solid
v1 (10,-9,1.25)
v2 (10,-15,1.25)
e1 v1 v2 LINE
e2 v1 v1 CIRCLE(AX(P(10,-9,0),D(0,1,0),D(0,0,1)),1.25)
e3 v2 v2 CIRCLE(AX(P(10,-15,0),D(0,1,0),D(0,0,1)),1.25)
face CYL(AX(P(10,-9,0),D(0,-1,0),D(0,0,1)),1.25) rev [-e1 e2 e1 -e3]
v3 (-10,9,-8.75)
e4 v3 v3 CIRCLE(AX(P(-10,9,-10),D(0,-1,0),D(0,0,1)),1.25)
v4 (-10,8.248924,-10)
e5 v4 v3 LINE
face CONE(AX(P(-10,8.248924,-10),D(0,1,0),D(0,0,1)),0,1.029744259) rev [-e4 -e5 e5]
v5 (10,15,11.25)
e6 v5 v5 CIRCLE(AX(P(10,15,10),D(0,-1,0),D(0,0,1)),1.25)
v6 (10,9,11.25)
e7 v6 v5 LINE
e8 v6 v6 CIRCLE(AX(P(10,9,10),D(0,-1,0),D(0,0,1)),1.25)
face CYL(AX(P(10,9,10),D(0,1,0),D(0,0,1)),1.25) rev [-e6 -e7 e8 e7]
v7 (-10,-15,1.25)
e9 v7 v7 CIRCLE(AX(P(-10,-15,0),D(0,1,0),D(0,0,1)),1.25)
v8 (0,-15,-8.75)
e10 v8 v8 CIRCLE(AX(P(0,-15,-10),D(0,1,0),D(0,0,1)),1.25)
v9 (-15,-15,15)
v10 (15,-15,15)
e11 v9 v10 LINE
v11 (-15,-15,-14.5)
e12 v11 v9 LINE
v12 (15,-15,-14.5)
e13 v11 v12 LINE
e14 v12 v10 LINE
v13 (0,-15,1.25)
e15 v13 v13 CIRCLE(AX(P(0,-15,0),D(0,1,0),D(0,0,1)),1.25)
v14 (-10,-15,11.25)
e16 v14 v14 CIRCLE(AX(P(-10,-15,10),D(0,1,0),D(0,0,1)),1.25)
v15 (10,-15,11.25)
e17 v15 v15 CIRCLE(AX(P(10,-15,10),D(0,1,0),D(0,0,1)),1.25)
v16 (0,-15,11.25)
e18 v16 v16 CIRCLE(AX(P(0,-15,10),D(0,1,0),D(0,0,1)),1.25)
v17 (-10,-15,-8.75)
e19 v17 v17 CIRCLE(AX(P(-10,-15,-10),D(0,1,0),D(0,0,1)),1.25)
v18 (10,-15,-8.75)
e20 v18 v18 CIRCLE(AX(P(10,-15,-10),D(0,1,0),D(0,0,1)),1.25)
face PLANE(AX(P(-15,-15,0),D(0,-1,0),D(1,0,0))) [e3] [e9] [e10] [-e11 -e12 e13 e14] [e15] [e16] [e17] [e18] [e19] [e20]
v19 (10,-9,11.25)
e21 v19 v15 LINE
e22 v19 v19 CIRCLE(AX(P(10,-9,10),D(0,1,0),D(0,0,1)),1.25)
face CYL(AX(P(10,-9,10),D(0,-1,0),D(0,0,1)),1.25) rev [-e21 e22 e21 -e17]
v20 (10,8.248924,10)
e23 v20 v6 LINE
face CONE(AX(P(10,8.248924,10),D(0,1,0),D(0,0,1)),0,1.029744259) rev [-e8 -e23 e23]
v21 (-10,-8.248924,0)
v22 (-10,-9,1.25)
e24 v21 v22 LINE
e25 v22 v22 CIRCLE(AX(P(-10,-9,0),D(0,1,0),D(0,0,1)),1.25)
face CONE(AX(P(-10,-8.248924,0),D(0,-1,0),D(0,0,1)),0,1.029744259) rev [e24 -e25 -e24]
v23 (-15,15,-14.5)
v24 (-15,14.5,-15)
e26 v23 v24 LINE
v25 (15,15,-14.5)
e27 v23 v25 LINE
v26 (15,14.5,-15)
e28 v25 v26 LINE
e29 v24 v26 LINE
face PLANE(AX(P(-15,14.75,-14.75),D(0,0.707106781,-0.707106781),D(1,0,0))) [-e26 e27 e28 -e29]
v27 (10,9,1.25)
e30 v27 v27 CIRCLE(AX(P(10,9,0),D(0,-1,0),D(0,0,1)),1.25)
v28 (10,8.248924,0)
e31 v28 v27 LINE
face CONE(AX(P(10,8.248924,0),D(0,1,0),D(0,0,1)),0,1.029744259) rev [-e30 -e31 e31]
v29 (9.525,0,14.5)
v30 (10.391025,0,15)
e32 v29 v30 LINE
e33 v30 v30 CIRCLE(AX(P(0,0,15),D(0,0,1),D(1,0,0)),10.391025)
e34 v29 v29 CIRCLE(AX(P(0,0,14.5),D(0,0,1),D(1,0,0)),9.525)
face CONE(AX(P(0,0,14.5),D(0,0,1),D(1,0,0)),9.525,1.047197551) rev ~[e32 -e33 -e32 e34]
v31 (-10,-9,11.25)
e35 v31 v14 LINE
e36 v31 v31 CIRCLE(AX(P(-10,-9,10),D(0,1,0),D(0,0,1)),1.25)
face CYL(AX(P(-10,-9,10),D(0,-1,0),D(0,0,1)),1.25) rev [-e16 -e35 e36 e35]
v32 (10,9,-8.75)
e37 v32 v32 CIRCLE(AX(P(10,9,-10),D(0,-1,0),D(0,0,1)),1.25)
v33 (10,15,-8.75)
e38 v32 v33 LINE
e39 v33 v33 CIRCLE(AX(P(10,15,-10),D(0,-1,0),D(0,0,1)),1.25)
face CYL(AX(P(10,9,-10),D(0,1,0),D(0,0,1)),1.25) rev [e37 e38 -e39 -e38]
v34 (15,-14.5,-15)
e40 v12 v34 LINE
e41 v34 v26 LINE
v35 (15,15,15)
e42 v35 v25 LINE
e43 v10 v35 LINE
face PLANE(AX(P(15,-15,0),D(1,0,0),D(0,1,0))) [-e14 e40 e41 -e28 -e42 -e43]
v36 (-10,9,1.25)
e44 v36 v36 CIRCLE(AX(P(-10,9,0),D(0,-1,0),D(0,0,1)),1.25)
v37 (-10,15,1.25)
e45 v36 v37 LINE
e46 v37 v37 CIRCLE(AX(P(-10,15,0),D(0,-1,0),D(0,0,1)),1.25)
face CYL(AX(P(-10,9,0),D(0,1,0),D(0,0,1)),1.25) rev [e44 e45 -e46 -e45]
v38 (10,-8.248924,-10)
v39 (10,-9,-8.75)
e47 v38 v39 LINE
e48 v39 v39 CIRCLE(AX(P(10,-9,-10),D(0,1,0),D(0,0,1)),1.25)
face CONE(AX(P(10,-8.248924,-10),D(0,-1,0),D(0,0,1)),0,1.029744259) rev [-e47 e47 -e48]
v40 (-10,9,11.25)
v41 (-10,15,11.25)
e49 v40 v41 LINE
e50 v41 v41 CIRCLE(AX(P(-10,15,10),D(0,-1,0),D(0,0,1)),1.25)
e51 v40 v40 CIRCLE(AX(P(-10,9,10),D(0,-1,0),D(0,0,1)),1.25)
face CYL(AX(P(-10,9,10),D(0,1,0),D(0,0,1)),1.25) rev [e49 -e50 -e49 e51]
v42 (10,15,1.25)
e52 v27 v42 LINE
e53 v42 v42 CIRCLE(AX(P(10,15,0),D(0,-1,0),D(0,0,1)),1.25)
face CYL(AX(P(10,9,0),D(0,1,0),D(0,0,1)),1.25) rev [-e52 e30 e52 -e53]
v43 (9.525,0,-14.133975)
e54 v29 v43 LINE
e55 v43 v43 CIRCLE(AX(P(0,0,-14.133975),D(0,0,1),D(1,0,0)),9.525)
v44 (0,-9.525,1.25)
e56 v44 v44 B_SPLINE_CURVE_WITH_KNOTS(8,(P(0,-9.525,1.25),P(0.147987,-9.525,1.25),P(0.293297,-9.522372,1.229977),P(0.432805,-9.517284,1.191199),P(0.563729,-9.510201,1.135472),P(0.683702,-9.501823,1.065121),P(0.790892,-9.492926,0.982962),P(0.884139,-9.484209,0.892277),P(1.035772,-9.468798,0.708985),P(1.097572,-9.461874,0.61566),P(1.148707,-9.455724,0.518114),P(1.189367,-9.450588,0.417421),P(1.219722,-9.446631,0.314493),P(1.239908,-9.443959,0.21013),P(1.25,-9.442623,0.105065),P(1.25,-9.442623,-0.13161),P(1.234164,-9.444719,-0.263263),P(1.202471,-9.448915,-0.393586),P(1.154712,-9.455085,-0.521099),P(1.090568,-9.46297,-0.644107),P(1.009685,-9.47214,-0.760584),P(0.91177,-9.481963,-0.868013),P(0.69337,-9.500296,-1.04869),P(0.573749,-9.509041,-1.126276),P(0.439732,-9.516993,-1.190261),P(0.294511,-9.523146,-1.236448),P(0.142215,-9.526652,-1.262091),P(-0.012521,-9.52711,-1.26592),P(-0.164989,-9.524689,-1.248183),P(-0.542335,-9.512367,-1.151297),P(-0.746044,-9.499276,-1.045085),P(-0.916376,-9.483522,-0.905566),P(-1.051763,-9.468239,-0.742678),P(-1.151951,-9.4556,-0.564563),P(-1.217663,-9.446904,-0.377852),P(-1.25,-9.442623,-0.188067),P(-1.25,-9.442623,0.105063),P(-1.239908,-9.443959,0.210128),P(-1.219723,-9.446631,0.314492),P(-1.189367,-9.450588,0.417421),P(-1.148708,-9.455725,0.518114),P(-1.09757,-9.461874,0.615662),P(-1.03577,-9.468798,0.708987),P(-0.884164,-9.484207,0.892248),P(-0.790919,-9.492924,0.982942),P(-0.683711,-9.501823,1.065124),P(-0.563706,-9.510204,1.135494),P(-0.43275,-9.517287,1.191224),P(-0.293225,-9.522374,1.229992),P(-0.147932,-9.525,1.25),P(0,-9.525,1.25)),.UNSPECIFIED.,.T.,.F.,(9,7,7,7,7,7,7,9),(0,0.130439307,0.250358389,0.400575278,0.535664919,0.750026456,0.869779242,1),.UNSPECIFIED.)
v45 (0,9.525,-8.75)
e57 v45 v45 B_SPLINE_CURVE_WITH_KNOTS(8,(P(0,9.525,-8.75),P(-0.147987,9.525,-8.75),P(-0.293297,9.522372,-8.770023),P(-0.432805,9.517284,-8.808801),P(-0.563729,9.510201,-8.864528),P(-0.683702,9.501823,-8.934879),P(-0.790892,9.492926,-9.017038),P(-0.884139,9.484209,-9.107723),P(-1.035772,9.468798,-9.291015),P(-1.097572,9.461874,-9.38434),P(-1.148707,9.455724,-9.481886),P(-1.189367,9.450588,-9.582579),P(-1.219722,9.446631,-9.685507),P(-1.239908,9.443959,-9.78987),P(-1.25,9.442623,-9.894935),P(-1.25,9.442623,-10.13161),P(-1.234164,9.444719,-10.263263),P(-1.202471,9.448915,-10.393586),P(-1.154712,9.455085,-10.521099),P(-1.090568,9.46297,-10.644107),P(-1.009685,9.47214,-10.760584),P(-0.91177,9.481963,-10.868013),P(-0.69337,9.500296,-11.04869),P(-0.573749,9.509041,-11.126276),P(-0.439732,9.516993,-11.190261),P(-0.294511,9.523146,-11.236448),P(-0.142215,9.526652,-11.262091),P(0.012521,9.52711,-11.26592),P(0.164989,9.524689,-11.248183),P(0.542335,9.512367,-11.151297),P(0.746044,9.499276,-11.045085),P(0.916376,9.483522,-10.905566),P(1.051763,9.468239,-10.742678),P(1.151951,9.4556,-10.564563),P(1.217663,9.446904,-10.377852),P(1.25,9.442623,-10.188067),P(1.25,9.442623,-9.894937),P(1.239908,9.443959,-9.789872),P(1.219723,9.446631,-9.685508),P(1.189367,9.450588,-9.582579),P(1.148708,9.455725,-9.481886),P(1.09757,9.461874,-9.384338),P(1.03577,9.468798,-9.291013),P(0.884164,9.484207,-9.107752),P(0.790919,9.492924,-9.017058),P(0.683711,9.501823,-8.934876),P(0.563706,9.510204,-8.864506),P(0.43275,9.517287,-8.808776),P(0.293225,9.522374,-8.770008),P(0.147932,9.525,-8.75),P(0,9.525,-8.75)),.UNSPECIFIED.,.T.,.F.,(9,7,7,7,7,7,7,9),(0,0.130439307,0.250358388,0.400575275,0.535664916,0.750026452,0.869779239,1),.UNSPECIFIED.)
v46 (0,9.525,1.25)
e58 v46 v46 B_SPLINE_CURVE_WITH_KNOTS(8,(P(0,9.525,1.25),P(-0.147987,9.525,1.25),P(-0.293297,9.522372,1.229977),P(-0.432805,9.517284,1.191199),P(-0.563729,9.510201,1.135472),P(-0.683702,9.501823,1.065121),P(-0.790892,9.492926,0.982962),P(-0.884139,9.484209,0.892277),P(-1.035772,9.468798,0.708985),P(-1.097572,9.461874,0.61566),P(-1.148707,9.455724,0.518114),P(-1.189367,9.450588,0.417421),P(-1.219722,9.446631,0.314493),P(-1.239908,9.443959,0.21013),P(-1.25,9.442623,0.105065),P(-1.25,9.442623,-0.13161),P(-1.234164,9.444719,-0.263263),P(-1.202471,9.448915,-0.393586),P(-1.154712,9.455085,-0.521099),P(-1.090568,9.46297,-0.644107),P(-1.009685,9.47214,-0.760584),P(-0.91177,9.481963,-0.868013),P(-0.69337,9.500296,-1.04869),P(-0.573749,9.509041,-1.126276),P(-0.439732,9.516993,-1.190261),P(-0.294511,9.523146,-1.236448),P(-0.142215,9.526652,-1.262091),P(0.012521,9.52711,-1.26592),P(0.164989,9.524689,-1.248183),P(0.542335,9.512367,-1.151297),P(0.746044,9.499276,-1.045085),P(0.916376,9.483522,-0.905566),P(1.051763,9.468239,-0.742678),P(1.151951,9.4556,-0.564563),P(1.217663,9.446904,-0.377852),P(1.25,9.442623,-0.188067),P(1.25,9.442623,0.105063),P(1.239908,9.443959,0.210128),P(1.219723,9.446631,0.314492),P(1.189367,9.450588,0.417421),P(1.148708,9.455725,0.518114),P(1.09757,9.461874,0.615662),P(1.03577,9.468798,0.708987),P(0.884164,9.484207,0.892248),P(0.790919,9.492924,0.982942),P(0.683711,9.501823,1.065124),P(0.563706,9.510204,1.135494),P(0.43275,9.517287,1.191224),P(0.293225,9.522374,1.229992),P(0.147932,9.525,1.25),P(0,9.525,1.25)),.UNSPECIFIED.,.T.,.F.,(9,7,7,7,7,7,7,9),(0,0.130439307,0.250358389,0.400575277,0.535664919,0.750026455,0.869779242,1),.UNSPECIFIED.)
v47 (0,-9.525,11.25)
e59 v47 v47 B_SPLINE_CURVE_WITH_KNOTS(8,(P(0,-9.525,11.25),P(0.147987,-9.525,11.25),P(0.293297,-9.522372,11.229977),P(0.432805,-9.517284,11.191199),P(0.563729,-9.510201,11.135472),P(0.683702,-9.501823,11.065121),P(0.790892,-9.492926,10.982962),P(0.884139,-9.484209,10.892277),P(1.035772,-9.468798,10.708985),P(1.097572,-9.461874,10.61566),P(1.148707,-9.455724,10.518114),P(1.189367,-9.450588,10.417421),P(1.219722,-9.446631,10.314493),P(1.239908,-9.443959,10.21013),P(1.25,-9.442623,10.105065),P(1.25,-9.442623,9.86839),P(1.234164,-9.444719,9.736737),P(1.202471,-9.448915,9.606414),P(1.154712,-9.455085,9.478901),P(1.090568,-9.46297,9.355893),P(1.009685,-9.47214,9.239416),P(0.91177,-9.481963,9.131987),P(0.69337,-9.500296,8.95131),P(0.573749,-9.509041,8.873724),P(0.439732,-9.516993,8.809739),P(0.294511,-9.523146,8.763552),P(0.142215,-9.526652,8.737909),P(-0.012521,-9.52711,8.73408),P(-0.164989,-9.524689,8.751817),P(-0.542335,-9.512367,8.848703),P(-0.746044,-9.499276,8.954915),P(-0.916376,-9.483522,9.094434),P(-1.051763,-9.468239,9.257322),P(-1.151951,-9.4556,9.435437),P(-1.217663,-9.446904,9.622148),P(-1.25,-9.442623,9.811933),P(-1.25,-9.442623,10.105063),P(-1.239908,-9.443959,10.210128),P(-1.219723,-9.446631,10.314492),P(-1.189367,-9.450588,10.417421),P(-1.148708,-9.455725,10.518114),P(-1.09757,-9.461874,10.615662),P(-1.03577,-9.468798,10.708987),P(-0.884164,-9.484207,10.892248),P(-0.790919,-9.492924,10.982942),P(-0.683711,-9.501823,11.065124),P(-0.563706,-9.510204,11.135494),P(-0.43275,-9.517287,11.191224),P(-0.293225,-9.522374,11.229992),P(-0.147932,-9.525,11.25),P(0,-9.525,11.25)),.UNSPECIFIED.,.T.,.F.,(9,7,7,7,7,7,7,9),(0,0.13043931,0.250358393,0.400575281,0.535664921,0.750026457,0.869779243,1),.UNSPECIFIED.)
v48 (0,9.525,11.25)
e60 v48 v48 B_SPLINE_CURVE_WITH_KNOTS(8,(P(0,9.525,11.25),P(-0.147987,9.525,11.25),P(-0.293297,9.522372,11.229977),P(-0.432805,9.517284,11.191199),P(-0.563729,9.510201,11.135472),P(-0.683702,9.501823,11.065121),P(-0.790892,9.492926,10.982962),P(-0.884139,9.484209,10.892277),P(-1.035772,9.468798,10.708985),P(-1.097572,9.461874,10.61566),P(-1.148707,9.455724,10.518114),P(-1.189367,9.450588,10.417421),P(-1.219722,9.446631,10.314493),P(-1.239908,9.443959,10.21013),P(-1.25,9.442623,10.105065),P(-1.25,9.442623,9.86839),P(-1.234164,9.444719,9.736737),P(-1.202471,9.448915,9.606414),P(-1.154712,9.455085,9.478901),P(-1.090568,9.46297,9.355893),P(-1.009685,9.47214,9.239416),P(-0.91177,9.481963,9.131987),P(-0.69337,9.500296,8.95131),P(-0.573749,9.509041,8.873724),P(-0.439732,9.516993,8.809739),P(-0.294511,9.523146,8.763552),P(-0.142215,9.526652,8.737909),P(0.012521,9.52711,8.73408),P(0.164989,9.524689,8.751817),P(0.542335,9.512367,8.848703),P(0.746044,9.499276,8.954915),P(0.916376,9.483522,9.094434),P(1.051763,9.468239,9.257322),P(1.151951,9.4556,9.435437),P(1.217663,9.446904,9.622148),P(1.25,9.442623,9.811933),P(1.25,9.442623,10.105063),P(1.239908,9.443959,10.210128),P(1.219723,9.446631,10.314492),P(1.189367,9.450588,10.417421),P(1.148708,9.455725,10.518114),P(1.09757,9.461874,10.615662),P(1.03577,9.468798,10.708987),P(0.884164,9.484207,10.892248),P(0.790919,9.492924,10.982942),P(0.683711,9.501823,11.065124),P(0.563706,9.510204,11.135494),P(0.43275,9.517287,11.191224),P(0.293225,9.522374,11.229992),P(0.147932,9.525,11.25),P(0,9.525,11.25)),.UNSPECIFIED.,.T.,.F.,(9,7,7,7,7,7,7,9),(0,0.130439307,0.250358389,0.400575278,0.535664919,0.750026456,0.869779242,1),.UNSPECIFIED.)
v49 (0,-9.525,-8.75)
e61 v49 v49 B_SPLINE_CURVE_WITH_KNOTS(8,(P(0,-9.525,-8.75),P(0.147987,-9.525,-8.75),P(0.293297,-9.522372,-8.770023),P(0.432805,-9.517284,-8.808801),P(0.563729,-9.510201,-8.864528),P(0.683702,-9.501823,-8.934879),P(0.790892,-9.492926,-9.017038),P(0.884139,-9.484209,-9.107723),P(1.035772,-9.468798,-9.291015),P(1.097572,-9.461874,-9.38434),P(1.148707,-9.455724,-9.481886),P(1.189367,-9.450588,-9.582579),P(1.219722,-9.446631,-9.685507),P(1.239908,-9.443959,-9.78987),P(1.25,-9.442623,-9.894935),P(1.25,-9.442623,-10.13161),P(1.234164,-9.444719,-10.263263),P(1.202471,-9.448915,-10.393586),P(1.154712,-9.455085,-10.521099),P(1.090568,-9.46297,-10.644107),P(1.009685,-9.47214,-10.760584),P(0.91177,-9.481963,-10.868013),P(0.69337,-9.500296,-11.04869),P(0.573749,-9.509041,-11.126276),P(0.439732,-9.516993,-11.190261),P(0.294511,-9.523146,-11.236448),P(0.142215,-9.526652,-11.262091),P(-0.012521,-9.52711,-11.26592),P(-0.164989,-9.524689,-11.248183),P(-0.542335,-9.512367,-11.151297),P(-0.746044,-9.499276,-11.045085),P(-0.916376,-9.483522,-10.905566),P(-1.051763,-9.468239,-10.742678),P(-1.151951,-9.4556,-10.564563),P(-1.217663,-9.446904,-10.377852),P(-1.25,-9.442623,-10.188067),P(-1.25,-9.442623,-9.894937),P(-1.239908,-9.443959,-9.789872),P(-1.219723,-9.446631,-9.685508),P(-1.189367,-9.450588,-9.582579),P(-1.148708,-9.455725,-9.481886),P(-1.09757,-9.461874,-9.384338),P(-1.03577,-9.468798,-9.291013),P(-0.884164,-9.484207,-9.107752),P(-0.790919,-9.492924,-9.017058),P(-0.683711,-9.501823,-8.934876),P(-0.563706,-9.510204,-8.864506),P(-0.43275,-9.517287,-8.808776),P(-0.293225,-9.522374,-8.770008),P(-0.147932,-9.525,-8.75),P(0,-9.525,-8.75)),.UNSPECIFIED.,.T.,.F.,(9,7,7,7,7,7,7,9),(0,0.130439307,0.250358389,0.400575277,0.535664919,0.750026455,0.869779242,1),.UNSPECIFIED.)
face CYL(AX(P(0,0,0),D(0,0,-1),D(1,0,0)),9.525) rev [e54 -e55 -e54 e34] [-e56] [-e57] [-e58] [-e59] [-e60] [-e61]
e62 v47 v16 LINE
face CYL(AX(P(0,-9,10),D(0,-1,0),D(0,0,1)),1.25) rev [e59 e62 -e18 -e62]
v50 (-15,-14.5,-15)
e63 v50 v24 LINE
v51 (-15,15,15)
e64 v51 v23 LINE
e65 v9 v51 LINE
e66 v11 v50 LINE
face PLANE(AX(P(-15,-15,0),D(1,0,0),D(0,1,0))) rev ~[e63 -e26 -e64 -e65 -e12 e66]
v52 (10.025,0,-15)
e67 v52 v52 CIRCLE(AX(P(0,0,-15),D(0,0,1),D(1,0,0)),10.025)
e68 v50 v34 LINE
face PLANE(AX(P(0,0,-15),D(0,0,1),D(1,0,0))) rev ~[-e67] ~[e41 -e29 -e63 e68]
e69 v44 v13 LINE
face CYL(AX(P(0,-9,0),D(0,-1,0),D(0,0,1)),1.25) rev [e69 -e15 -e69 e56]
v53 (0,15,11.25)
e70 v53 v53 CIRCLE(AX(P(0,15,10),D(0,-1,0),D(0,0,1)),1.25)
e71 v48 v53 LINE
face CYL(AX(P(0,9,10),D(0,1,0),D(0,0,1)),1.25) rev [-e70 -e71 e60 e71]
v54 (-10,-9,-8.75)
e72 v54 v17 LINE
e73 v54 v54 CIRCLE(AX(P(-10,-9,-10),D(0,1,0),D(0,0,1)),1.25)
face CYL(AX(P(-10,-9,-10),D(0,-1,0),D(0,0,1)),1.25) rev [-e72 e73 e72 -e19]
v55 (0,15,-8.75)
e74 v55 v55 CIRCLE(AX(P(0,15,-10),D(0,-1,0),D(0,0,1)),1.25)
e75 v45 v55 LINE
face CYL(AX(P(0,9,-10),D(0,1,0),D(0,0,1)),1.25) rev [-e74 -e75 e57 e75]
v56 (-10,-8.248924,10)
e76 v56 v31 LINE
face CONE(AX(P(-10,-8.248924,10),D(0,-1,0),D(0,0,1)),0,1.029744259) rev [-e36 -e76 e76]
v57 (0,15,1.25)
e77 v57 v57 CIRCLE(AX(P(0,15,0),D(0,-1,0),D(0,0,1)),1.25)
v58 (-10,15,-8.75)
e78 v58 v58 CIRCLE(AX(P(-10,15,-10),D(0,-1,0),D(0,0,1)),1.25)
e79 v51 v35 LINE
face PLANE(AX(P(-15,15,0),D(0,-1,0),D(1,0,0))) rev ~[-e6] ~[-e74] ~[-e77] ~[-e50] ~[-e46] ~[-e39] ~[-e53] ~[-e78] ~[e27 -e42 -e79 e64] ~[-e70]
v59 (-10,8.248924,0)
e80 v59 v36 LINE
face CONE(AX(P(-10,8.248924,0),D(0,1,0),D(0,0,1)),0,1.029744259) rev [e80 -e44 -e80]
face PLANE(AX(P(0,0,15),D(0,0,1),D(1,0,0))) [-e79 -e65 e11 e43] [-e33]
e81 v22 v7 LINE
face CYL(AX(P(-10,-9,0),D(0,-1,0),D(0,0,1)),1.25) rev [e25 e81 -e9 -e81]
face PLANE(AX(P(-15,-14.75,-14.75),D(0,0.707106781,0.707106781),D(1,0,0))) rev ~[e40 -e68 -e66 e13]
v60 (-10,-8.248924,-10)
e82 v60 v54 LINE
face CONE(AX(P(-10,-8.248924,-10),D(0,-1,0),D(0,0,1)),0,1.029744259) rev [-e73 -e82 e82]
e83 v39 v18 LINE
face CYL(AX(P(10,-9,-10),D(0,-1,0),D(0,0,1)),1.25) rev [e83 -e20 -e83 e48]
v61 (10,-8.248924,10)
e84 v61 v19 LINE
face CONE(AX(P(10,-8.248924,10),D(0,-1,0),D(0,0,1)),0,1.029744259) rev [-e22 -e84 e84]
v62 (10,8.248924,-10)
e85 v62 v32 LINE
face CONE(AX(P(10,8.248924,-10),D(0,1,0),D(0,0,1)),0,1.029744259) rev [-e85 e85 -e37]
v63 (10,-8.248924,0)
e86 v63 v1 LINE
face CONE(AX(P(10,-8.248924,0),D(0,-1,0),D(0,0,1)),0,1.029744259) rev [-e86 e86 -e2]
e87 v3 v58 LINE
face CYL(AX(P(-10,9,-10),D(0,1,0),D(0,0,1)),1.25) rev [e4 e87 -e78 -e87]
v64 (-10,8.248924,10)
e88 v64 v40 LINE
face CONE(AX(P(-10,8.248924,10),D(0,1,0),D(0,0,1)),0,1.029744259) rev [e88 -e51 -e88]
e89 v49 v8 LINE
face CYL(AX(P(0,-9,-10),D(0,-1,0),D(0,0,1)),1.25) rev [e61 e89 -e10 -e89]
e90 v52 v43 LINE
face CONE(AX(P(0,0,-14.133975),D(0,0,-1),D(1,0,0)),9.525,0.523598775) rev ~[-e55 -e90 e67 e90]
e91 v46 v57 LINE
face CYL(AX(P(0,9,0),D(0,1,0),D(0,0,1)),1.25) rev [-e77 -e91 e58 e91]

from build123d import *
from OCP.BRepFilletAPI import BRepFilletAPI_MakeChamfer

# Parameters (mm, degrees)
SKETCH1_W                      = 30
SKETCH1_H                      = 30
SKETCH1_R                      = 9.525
BOSS_EXTRUDE1_DEPTH            = 15
CHAMFER2_SIZE                  = 0.5
CHAMFER2_SIZE2                 = 0.866025404
CHAMFER3_SIZE                  = 0.5
M3X0_5_TAPPED_HOLE1_AT_2_COUNT = 2
M3X0_5_TAPPED_HOLE1_AT_2_PITCH = 20
M3X0_5_TAPPED_HOLE1_AT_3_COUNT = 2
M3X0_5_TAPPED_HOLE1_AT_3_PITCH = 10
M3X0_5_TAPPED_HOLE1_AT_4_COUNT = 2
M3X0_5_TAPPED_HOLE1_AT_4_PITCH = 10
M3X0_5_TAPPED_HOLE1_AT_5_COUNT = 2
M3X0_5_TAPPED_HOLE1_AT_5_PITCH = 10
M3X0_5_TAPPED_HOLE1_AT_6_COUNT = 2
M3X0_5_TAPPED_HOLE1_AT_6_PITCH = 22.360679775
M3X0_5_TAPPED_HOLE1_AT_7_COUNT = 2
M3X0_5_TAPPED_HOLE1_AT_7_PITCH = 22.360679775
M3X0_5_TAPPED_HOLE1_AT_8_COUNT = 2
M3X0_5_TAPPED_HOLE1_AT_8_PITCH = 14.142135624
M3X0_5_TAPPED_HOLE1_AT_9_COUNT = 2
M3X0_5_TAPPED_HOLE1_AT_9_PITCH = 14.142135624
CIRPATTERN1_COUNT              = 2


with BuildPart() as part:
    # Sketch1 → Boss-Extrude1 (new, symmetric)
    with BuildSketch(Plane.XY):
        Rectangle(SKETCH1_W, SKETCH1_H)
        Circle(SKETCH1_R, mode=Mode.SUBTRACT)
    extrude(amount=BOSS_EXTRUDE1_DEPTH, both=True)

    # Chamfer2: one chamfer whose edges measure the first distance from different faces: ONE call of the kernel's chamfer builder (chamfer() names one face for all edges)
    chamfer2_edges_1 = [part.edges().sort_by_distance(p)[0] for p in [
        (-9.525, 0, -15),
    ]]
    chamfer2_side_1 = [part.faces().sort_by_distance(p)[0] for p in [
        (0, -14.575735931, -15),
    ]]
    chamfer2_edges_2 = [part.edges().sort_by_distance(p)[0] for p in [
        (-9.525, 0, 15),
    ]]
    chamfer2_side_2 = [part.faces().sort_by_distance(p)[0] for p in [
        (-9.525, 0, 0),
    ]]
    chamfer2 = BRepFilletAPI_MakeChamfer(part.part.solid().wrapped)
    for e in chamfer2_edges_1:
        chamfer2.Add(CHAMFER2_SIZE, CHAMFER2_SIZE2, e.wrapped, chamfer2_side_1[0].wrapped)  # the first distance lies on this face
    for e in chamfer2_edges_2:
        chamfer2.Add(CHAMFER2_SIZE, CHAMFER2_SIZE2, e.wrapped, chamfer2_side_2[0].wrapped)  # the first distance lies on this face
    add(Compound.cast(chamfer2.Shape()), mode=Mode.REPLACE)

    # Chamfer3
    chamfer3_edges = [part.edges().sort_by_distance(p)[0] for p in [
        (0, 15, -15),
        (0, -15, -15),
    ]]
    chamfer(chamfer3_edges, length=CHAMFER3_SIZE)

    # Sketch8 → M3x0.5 Tapped Hole1 (revolve, cut)
    with BuildSketch(Plane(origin=(-10, 15, 0), x_dir=(0, 0, 1), z_dir=(1, 0, 0))):
        Polygon((0, 0), (0, 6.751075774), (1.25, 6), (1.25, 0), align=None)
    m3x0_5_tapped_hole1 = revolve(axis=Axis((-10, 21.35, 0), (0, -1, 0)), mode=Mode.SUBTRACT)

    # M3x0.5 Tapped Hole1 at 2: M3x0.5 Tapped Hole1 ×2
    with Locations(*[(i * M3X0_5_TAPPED_HOLE1_AT_2_PITCH, 0, 0) for i in range(1, M3X0_5_TAPPED_HOLE1_AT_2_COUNT)]):
        add(m3x0_5_tapped_hole1, mode=Mode.SUBTRACT)

    # M3x0.5 Tapped Hole1 at 3: M3x0.5 Tapped Hole1 ×2
    with Locations(*[(i * M3X0_5_TAPPED_HOLE1_AT_3_PITCH, 0, 0) for i in range(1, M3X0_5_TAPPED_HOLE1_AT_3_COUNT)]):
        add(m3x0_5_tapped_hole1, mode=Mode.SUBTRACT)

    # M3x0.5 Tapped Hole1 at 4: M3x0.5 Tapped Hole1 ×2
    with Locations(*[(0, 0, -i * M3X0_5_TAPPED_HOLE1_AT_4_PITCH) for i in range(1, M3X0_5_TAPPED_HOLE1_AT_4_COUNT)]):
        add(m3x0_5_tapped_hole1, mode=Mode.SUBTRACT)

    # M3x0.5 Tapped Hole1 at 5: M3x0.5 Tapped Hole1 ×2
    with Locations(*[(0, 0, i * M3X0_5_TAPPED_HOLE1_AT_5_PITCH) for i in range(1, M3X0_5_TAPPED_HOLE1_AT_5_COUNT)]):
        add(m3x0_5_tapped_hole1, mode=Mode.SUBTRACT)

    # M3x0.5 Tapped Hole1 at 6: M3x0.5 Tapped Hole1 ×2
    with Locations(*[Vector(0.894427190999916, 0, -0.44721359549995787) * (i * M3X0_5_TAPPED_HOLE1_AT_6_PITCH) for i in range(1, M3X0_5_TAPPED_HOLE1_AT_6_COUNT)]):
        add(m3x0_5_tapped_hole1, mode=Mode.SUBTRACT)

    # M3x0.5 Tapped Hole1 at 7: M3x0.5 Tapped Hole1 ×2
    with Locations(*[Vector(0.8944271909999159, 0, 0.447213595499958) * (i * M3X0_5_TAPPED_HOLE1_AT_7_PITCH) for i in range(1, M3X0_5_TAPPED_HOLE1_AT_7_COUNT)]):
        add(m3x0_5_tapped_hole1, mode=Mode.SUBTRACT)

    # M3x0.5 Tapped Hole1 at 8: M3x0.5 Tapped Hole1 ×2
    with Locations(*[Vector(0.7071067811865476, 0, -0.7071067811865475) * (i * M3X0_5_TAPPED_HOLE1_AT_8_PITCH) for i in range(1, M3X0_5_TAPPED_HOLE1_AT_8_COUNT)]):
        add(m3x0_5_tapped_hole1, mode=Mode.SUBTRACT)

    # M3x0.5 Tapped Hole1 at 9: M3x0.5 Tapped Hole1 ×2
    with Locations(*[Vector(0.7071067811865475, 0, 0.7071067811865476) * (i * M3X0_5_TAPPED_HOLE1_AT_9_PITCH) for i in range(1, M3X0_5_TAPPED_HOLE1_AT_9_COUNT)]):
        add(m3x0_5_tapped_hole1, mode=Mode.SUBTRACT)

    # CirPattern1: M3x0.5 Tapped Hole1 ×2 about axis
    cirpattern1_axis = Axis((0, 0, 15), (0, 0, -1))
    for i in range(1, CIRPATTERN1_COUNT):
        add(m3x0_5_tapped_hole1.rotate(cirpattern1_axis, i * 360 / CIRPATTERN1_COUNT), mode=Mode.SUBTRACT)

    # CirPattern1 copy 1 sketch → CirPattern1 copy 1 (revolve, cut)
    with BuildSketch(Plane(origin=(-10, -15, 0), x_dir=(0, 0, 1), z_dir=(-1, 0, 0))):
        Polygon((0, 0), (0, 6.751075774), (1.25, 6), (1.25, 0), align=None)
    revolve(axis=Axis((-10, -21.35, 0), (0, 1, 0)), mode=Mode.SUBTRACT)

    # CirPattern1 copy 2 sketch → CirPattern1 copy 2 (revolve, cut)
    with BuildSketch(Plane(origin=(0, -15, 0), x_dir=(0, 0, 1), z_dir=(-1, 0, 0))):
        Polygon((0, 0), (0, 6.751075774), (1.25, 6), (1.25, 0), align=None)
    revolve(axis=Axis((0, -21.35, 0), (0, 1, 0)), mode=Mode.SUBTRACT)

    # CirPattern1 copy 3 sketch → CirPattern1 copy 3 (revolve, cut)
    with BuildSketch(Plane(origin=(10, -15, -10), x_dir=(0, 0, 1), z_dir=(-1, 0, 0))):
        Polygon((0, 0), (0, 6.751075774), (1.25, 6), (1.25, 0), align=None)
    revolve(axis=Axis((10, -21.35, -10), (0, 1, 0)), mode=Mode.SUBTRACT)

    # CirPattern1 copy 4 sketch → CirPattern1 copy 4 (revolve, cut)
    with BuildSketch(Plane(origin=(10, -15, 10), x_dir=(0, 0, 1), z_dir=(-1, 0, 0))):
        Polygon((0, 0), (0, 6.751075774), (1.25, 6), (1.25, 0), align=None)
    revolve(axis=Axis((10, -21.35, 10), (0, 1, 0)), mode=Mode.SUBTRACT)

    # CirPattern1 copy 5 sketch → CirPattern1 copy 5 (revolve, cut)
    with BuildSketch(Plane(origin=(-10, -15, -10), x_dir=(0, 0, 1), z_dir=(-1, 0, 0))):
        Polygon((0, 0), (0, 6.751075774), (1.25, 6), (1.25, 0), align=None)
    revolve(axis=Axis((-10, -21.35, -10), (0, 1, 0)), mode=Mode.SUBTRACT)

    # CirPattern1 copy 6 sketch → CirPattern1 copy 6 (revolve, cut)
    with BuildSketch(Plane(origin=(-10, -15, 10), x_dir=(0, 0, 1), z_dir=(-1, 0, 0))):
        Polygon((0, 0), (0, 6.751075774), (1.25, 6), (1.25, 0), align=None)
    revolve(axis=Axis((-10, -21.35, 10), (0, 1, 0)), mode=Mode.SUBTRACT)

    # CirPattern1 copy 7 sketch → CirPattern1 copy 7 (revolve, cut)
    with BuildSketch(Plane(origin=(0, -15, -10), x_dir=(0, 0, 1), z_dir=(-1, 0, 0))):
        Polygon((0, 0), (0, 6.751075774), (1.25, 6), (1.25, 0), align=None)
    revolve(axis=Axis((0, -21.35, -10), (0, 1, 0)), mode=Mode.SUBTRACT)

    # CirPattern1 copy 8 sketch → CirPattern1 copy 8 (revolve, cut)
    with BuildSketch(Plane(origin=(0, -15, 10), x_dir=(0, 0, 1), z_dir=(-1, 0, 0))):
        Polygon((0, 0), (0, 6.751075774), (1.25, 6), (1.25, 0), align=None)
    revolve(axis=Axis((0, -21.35, 10), (0, 1, 0)), mode=Mode.SUBTRACT)


solid = part.part
